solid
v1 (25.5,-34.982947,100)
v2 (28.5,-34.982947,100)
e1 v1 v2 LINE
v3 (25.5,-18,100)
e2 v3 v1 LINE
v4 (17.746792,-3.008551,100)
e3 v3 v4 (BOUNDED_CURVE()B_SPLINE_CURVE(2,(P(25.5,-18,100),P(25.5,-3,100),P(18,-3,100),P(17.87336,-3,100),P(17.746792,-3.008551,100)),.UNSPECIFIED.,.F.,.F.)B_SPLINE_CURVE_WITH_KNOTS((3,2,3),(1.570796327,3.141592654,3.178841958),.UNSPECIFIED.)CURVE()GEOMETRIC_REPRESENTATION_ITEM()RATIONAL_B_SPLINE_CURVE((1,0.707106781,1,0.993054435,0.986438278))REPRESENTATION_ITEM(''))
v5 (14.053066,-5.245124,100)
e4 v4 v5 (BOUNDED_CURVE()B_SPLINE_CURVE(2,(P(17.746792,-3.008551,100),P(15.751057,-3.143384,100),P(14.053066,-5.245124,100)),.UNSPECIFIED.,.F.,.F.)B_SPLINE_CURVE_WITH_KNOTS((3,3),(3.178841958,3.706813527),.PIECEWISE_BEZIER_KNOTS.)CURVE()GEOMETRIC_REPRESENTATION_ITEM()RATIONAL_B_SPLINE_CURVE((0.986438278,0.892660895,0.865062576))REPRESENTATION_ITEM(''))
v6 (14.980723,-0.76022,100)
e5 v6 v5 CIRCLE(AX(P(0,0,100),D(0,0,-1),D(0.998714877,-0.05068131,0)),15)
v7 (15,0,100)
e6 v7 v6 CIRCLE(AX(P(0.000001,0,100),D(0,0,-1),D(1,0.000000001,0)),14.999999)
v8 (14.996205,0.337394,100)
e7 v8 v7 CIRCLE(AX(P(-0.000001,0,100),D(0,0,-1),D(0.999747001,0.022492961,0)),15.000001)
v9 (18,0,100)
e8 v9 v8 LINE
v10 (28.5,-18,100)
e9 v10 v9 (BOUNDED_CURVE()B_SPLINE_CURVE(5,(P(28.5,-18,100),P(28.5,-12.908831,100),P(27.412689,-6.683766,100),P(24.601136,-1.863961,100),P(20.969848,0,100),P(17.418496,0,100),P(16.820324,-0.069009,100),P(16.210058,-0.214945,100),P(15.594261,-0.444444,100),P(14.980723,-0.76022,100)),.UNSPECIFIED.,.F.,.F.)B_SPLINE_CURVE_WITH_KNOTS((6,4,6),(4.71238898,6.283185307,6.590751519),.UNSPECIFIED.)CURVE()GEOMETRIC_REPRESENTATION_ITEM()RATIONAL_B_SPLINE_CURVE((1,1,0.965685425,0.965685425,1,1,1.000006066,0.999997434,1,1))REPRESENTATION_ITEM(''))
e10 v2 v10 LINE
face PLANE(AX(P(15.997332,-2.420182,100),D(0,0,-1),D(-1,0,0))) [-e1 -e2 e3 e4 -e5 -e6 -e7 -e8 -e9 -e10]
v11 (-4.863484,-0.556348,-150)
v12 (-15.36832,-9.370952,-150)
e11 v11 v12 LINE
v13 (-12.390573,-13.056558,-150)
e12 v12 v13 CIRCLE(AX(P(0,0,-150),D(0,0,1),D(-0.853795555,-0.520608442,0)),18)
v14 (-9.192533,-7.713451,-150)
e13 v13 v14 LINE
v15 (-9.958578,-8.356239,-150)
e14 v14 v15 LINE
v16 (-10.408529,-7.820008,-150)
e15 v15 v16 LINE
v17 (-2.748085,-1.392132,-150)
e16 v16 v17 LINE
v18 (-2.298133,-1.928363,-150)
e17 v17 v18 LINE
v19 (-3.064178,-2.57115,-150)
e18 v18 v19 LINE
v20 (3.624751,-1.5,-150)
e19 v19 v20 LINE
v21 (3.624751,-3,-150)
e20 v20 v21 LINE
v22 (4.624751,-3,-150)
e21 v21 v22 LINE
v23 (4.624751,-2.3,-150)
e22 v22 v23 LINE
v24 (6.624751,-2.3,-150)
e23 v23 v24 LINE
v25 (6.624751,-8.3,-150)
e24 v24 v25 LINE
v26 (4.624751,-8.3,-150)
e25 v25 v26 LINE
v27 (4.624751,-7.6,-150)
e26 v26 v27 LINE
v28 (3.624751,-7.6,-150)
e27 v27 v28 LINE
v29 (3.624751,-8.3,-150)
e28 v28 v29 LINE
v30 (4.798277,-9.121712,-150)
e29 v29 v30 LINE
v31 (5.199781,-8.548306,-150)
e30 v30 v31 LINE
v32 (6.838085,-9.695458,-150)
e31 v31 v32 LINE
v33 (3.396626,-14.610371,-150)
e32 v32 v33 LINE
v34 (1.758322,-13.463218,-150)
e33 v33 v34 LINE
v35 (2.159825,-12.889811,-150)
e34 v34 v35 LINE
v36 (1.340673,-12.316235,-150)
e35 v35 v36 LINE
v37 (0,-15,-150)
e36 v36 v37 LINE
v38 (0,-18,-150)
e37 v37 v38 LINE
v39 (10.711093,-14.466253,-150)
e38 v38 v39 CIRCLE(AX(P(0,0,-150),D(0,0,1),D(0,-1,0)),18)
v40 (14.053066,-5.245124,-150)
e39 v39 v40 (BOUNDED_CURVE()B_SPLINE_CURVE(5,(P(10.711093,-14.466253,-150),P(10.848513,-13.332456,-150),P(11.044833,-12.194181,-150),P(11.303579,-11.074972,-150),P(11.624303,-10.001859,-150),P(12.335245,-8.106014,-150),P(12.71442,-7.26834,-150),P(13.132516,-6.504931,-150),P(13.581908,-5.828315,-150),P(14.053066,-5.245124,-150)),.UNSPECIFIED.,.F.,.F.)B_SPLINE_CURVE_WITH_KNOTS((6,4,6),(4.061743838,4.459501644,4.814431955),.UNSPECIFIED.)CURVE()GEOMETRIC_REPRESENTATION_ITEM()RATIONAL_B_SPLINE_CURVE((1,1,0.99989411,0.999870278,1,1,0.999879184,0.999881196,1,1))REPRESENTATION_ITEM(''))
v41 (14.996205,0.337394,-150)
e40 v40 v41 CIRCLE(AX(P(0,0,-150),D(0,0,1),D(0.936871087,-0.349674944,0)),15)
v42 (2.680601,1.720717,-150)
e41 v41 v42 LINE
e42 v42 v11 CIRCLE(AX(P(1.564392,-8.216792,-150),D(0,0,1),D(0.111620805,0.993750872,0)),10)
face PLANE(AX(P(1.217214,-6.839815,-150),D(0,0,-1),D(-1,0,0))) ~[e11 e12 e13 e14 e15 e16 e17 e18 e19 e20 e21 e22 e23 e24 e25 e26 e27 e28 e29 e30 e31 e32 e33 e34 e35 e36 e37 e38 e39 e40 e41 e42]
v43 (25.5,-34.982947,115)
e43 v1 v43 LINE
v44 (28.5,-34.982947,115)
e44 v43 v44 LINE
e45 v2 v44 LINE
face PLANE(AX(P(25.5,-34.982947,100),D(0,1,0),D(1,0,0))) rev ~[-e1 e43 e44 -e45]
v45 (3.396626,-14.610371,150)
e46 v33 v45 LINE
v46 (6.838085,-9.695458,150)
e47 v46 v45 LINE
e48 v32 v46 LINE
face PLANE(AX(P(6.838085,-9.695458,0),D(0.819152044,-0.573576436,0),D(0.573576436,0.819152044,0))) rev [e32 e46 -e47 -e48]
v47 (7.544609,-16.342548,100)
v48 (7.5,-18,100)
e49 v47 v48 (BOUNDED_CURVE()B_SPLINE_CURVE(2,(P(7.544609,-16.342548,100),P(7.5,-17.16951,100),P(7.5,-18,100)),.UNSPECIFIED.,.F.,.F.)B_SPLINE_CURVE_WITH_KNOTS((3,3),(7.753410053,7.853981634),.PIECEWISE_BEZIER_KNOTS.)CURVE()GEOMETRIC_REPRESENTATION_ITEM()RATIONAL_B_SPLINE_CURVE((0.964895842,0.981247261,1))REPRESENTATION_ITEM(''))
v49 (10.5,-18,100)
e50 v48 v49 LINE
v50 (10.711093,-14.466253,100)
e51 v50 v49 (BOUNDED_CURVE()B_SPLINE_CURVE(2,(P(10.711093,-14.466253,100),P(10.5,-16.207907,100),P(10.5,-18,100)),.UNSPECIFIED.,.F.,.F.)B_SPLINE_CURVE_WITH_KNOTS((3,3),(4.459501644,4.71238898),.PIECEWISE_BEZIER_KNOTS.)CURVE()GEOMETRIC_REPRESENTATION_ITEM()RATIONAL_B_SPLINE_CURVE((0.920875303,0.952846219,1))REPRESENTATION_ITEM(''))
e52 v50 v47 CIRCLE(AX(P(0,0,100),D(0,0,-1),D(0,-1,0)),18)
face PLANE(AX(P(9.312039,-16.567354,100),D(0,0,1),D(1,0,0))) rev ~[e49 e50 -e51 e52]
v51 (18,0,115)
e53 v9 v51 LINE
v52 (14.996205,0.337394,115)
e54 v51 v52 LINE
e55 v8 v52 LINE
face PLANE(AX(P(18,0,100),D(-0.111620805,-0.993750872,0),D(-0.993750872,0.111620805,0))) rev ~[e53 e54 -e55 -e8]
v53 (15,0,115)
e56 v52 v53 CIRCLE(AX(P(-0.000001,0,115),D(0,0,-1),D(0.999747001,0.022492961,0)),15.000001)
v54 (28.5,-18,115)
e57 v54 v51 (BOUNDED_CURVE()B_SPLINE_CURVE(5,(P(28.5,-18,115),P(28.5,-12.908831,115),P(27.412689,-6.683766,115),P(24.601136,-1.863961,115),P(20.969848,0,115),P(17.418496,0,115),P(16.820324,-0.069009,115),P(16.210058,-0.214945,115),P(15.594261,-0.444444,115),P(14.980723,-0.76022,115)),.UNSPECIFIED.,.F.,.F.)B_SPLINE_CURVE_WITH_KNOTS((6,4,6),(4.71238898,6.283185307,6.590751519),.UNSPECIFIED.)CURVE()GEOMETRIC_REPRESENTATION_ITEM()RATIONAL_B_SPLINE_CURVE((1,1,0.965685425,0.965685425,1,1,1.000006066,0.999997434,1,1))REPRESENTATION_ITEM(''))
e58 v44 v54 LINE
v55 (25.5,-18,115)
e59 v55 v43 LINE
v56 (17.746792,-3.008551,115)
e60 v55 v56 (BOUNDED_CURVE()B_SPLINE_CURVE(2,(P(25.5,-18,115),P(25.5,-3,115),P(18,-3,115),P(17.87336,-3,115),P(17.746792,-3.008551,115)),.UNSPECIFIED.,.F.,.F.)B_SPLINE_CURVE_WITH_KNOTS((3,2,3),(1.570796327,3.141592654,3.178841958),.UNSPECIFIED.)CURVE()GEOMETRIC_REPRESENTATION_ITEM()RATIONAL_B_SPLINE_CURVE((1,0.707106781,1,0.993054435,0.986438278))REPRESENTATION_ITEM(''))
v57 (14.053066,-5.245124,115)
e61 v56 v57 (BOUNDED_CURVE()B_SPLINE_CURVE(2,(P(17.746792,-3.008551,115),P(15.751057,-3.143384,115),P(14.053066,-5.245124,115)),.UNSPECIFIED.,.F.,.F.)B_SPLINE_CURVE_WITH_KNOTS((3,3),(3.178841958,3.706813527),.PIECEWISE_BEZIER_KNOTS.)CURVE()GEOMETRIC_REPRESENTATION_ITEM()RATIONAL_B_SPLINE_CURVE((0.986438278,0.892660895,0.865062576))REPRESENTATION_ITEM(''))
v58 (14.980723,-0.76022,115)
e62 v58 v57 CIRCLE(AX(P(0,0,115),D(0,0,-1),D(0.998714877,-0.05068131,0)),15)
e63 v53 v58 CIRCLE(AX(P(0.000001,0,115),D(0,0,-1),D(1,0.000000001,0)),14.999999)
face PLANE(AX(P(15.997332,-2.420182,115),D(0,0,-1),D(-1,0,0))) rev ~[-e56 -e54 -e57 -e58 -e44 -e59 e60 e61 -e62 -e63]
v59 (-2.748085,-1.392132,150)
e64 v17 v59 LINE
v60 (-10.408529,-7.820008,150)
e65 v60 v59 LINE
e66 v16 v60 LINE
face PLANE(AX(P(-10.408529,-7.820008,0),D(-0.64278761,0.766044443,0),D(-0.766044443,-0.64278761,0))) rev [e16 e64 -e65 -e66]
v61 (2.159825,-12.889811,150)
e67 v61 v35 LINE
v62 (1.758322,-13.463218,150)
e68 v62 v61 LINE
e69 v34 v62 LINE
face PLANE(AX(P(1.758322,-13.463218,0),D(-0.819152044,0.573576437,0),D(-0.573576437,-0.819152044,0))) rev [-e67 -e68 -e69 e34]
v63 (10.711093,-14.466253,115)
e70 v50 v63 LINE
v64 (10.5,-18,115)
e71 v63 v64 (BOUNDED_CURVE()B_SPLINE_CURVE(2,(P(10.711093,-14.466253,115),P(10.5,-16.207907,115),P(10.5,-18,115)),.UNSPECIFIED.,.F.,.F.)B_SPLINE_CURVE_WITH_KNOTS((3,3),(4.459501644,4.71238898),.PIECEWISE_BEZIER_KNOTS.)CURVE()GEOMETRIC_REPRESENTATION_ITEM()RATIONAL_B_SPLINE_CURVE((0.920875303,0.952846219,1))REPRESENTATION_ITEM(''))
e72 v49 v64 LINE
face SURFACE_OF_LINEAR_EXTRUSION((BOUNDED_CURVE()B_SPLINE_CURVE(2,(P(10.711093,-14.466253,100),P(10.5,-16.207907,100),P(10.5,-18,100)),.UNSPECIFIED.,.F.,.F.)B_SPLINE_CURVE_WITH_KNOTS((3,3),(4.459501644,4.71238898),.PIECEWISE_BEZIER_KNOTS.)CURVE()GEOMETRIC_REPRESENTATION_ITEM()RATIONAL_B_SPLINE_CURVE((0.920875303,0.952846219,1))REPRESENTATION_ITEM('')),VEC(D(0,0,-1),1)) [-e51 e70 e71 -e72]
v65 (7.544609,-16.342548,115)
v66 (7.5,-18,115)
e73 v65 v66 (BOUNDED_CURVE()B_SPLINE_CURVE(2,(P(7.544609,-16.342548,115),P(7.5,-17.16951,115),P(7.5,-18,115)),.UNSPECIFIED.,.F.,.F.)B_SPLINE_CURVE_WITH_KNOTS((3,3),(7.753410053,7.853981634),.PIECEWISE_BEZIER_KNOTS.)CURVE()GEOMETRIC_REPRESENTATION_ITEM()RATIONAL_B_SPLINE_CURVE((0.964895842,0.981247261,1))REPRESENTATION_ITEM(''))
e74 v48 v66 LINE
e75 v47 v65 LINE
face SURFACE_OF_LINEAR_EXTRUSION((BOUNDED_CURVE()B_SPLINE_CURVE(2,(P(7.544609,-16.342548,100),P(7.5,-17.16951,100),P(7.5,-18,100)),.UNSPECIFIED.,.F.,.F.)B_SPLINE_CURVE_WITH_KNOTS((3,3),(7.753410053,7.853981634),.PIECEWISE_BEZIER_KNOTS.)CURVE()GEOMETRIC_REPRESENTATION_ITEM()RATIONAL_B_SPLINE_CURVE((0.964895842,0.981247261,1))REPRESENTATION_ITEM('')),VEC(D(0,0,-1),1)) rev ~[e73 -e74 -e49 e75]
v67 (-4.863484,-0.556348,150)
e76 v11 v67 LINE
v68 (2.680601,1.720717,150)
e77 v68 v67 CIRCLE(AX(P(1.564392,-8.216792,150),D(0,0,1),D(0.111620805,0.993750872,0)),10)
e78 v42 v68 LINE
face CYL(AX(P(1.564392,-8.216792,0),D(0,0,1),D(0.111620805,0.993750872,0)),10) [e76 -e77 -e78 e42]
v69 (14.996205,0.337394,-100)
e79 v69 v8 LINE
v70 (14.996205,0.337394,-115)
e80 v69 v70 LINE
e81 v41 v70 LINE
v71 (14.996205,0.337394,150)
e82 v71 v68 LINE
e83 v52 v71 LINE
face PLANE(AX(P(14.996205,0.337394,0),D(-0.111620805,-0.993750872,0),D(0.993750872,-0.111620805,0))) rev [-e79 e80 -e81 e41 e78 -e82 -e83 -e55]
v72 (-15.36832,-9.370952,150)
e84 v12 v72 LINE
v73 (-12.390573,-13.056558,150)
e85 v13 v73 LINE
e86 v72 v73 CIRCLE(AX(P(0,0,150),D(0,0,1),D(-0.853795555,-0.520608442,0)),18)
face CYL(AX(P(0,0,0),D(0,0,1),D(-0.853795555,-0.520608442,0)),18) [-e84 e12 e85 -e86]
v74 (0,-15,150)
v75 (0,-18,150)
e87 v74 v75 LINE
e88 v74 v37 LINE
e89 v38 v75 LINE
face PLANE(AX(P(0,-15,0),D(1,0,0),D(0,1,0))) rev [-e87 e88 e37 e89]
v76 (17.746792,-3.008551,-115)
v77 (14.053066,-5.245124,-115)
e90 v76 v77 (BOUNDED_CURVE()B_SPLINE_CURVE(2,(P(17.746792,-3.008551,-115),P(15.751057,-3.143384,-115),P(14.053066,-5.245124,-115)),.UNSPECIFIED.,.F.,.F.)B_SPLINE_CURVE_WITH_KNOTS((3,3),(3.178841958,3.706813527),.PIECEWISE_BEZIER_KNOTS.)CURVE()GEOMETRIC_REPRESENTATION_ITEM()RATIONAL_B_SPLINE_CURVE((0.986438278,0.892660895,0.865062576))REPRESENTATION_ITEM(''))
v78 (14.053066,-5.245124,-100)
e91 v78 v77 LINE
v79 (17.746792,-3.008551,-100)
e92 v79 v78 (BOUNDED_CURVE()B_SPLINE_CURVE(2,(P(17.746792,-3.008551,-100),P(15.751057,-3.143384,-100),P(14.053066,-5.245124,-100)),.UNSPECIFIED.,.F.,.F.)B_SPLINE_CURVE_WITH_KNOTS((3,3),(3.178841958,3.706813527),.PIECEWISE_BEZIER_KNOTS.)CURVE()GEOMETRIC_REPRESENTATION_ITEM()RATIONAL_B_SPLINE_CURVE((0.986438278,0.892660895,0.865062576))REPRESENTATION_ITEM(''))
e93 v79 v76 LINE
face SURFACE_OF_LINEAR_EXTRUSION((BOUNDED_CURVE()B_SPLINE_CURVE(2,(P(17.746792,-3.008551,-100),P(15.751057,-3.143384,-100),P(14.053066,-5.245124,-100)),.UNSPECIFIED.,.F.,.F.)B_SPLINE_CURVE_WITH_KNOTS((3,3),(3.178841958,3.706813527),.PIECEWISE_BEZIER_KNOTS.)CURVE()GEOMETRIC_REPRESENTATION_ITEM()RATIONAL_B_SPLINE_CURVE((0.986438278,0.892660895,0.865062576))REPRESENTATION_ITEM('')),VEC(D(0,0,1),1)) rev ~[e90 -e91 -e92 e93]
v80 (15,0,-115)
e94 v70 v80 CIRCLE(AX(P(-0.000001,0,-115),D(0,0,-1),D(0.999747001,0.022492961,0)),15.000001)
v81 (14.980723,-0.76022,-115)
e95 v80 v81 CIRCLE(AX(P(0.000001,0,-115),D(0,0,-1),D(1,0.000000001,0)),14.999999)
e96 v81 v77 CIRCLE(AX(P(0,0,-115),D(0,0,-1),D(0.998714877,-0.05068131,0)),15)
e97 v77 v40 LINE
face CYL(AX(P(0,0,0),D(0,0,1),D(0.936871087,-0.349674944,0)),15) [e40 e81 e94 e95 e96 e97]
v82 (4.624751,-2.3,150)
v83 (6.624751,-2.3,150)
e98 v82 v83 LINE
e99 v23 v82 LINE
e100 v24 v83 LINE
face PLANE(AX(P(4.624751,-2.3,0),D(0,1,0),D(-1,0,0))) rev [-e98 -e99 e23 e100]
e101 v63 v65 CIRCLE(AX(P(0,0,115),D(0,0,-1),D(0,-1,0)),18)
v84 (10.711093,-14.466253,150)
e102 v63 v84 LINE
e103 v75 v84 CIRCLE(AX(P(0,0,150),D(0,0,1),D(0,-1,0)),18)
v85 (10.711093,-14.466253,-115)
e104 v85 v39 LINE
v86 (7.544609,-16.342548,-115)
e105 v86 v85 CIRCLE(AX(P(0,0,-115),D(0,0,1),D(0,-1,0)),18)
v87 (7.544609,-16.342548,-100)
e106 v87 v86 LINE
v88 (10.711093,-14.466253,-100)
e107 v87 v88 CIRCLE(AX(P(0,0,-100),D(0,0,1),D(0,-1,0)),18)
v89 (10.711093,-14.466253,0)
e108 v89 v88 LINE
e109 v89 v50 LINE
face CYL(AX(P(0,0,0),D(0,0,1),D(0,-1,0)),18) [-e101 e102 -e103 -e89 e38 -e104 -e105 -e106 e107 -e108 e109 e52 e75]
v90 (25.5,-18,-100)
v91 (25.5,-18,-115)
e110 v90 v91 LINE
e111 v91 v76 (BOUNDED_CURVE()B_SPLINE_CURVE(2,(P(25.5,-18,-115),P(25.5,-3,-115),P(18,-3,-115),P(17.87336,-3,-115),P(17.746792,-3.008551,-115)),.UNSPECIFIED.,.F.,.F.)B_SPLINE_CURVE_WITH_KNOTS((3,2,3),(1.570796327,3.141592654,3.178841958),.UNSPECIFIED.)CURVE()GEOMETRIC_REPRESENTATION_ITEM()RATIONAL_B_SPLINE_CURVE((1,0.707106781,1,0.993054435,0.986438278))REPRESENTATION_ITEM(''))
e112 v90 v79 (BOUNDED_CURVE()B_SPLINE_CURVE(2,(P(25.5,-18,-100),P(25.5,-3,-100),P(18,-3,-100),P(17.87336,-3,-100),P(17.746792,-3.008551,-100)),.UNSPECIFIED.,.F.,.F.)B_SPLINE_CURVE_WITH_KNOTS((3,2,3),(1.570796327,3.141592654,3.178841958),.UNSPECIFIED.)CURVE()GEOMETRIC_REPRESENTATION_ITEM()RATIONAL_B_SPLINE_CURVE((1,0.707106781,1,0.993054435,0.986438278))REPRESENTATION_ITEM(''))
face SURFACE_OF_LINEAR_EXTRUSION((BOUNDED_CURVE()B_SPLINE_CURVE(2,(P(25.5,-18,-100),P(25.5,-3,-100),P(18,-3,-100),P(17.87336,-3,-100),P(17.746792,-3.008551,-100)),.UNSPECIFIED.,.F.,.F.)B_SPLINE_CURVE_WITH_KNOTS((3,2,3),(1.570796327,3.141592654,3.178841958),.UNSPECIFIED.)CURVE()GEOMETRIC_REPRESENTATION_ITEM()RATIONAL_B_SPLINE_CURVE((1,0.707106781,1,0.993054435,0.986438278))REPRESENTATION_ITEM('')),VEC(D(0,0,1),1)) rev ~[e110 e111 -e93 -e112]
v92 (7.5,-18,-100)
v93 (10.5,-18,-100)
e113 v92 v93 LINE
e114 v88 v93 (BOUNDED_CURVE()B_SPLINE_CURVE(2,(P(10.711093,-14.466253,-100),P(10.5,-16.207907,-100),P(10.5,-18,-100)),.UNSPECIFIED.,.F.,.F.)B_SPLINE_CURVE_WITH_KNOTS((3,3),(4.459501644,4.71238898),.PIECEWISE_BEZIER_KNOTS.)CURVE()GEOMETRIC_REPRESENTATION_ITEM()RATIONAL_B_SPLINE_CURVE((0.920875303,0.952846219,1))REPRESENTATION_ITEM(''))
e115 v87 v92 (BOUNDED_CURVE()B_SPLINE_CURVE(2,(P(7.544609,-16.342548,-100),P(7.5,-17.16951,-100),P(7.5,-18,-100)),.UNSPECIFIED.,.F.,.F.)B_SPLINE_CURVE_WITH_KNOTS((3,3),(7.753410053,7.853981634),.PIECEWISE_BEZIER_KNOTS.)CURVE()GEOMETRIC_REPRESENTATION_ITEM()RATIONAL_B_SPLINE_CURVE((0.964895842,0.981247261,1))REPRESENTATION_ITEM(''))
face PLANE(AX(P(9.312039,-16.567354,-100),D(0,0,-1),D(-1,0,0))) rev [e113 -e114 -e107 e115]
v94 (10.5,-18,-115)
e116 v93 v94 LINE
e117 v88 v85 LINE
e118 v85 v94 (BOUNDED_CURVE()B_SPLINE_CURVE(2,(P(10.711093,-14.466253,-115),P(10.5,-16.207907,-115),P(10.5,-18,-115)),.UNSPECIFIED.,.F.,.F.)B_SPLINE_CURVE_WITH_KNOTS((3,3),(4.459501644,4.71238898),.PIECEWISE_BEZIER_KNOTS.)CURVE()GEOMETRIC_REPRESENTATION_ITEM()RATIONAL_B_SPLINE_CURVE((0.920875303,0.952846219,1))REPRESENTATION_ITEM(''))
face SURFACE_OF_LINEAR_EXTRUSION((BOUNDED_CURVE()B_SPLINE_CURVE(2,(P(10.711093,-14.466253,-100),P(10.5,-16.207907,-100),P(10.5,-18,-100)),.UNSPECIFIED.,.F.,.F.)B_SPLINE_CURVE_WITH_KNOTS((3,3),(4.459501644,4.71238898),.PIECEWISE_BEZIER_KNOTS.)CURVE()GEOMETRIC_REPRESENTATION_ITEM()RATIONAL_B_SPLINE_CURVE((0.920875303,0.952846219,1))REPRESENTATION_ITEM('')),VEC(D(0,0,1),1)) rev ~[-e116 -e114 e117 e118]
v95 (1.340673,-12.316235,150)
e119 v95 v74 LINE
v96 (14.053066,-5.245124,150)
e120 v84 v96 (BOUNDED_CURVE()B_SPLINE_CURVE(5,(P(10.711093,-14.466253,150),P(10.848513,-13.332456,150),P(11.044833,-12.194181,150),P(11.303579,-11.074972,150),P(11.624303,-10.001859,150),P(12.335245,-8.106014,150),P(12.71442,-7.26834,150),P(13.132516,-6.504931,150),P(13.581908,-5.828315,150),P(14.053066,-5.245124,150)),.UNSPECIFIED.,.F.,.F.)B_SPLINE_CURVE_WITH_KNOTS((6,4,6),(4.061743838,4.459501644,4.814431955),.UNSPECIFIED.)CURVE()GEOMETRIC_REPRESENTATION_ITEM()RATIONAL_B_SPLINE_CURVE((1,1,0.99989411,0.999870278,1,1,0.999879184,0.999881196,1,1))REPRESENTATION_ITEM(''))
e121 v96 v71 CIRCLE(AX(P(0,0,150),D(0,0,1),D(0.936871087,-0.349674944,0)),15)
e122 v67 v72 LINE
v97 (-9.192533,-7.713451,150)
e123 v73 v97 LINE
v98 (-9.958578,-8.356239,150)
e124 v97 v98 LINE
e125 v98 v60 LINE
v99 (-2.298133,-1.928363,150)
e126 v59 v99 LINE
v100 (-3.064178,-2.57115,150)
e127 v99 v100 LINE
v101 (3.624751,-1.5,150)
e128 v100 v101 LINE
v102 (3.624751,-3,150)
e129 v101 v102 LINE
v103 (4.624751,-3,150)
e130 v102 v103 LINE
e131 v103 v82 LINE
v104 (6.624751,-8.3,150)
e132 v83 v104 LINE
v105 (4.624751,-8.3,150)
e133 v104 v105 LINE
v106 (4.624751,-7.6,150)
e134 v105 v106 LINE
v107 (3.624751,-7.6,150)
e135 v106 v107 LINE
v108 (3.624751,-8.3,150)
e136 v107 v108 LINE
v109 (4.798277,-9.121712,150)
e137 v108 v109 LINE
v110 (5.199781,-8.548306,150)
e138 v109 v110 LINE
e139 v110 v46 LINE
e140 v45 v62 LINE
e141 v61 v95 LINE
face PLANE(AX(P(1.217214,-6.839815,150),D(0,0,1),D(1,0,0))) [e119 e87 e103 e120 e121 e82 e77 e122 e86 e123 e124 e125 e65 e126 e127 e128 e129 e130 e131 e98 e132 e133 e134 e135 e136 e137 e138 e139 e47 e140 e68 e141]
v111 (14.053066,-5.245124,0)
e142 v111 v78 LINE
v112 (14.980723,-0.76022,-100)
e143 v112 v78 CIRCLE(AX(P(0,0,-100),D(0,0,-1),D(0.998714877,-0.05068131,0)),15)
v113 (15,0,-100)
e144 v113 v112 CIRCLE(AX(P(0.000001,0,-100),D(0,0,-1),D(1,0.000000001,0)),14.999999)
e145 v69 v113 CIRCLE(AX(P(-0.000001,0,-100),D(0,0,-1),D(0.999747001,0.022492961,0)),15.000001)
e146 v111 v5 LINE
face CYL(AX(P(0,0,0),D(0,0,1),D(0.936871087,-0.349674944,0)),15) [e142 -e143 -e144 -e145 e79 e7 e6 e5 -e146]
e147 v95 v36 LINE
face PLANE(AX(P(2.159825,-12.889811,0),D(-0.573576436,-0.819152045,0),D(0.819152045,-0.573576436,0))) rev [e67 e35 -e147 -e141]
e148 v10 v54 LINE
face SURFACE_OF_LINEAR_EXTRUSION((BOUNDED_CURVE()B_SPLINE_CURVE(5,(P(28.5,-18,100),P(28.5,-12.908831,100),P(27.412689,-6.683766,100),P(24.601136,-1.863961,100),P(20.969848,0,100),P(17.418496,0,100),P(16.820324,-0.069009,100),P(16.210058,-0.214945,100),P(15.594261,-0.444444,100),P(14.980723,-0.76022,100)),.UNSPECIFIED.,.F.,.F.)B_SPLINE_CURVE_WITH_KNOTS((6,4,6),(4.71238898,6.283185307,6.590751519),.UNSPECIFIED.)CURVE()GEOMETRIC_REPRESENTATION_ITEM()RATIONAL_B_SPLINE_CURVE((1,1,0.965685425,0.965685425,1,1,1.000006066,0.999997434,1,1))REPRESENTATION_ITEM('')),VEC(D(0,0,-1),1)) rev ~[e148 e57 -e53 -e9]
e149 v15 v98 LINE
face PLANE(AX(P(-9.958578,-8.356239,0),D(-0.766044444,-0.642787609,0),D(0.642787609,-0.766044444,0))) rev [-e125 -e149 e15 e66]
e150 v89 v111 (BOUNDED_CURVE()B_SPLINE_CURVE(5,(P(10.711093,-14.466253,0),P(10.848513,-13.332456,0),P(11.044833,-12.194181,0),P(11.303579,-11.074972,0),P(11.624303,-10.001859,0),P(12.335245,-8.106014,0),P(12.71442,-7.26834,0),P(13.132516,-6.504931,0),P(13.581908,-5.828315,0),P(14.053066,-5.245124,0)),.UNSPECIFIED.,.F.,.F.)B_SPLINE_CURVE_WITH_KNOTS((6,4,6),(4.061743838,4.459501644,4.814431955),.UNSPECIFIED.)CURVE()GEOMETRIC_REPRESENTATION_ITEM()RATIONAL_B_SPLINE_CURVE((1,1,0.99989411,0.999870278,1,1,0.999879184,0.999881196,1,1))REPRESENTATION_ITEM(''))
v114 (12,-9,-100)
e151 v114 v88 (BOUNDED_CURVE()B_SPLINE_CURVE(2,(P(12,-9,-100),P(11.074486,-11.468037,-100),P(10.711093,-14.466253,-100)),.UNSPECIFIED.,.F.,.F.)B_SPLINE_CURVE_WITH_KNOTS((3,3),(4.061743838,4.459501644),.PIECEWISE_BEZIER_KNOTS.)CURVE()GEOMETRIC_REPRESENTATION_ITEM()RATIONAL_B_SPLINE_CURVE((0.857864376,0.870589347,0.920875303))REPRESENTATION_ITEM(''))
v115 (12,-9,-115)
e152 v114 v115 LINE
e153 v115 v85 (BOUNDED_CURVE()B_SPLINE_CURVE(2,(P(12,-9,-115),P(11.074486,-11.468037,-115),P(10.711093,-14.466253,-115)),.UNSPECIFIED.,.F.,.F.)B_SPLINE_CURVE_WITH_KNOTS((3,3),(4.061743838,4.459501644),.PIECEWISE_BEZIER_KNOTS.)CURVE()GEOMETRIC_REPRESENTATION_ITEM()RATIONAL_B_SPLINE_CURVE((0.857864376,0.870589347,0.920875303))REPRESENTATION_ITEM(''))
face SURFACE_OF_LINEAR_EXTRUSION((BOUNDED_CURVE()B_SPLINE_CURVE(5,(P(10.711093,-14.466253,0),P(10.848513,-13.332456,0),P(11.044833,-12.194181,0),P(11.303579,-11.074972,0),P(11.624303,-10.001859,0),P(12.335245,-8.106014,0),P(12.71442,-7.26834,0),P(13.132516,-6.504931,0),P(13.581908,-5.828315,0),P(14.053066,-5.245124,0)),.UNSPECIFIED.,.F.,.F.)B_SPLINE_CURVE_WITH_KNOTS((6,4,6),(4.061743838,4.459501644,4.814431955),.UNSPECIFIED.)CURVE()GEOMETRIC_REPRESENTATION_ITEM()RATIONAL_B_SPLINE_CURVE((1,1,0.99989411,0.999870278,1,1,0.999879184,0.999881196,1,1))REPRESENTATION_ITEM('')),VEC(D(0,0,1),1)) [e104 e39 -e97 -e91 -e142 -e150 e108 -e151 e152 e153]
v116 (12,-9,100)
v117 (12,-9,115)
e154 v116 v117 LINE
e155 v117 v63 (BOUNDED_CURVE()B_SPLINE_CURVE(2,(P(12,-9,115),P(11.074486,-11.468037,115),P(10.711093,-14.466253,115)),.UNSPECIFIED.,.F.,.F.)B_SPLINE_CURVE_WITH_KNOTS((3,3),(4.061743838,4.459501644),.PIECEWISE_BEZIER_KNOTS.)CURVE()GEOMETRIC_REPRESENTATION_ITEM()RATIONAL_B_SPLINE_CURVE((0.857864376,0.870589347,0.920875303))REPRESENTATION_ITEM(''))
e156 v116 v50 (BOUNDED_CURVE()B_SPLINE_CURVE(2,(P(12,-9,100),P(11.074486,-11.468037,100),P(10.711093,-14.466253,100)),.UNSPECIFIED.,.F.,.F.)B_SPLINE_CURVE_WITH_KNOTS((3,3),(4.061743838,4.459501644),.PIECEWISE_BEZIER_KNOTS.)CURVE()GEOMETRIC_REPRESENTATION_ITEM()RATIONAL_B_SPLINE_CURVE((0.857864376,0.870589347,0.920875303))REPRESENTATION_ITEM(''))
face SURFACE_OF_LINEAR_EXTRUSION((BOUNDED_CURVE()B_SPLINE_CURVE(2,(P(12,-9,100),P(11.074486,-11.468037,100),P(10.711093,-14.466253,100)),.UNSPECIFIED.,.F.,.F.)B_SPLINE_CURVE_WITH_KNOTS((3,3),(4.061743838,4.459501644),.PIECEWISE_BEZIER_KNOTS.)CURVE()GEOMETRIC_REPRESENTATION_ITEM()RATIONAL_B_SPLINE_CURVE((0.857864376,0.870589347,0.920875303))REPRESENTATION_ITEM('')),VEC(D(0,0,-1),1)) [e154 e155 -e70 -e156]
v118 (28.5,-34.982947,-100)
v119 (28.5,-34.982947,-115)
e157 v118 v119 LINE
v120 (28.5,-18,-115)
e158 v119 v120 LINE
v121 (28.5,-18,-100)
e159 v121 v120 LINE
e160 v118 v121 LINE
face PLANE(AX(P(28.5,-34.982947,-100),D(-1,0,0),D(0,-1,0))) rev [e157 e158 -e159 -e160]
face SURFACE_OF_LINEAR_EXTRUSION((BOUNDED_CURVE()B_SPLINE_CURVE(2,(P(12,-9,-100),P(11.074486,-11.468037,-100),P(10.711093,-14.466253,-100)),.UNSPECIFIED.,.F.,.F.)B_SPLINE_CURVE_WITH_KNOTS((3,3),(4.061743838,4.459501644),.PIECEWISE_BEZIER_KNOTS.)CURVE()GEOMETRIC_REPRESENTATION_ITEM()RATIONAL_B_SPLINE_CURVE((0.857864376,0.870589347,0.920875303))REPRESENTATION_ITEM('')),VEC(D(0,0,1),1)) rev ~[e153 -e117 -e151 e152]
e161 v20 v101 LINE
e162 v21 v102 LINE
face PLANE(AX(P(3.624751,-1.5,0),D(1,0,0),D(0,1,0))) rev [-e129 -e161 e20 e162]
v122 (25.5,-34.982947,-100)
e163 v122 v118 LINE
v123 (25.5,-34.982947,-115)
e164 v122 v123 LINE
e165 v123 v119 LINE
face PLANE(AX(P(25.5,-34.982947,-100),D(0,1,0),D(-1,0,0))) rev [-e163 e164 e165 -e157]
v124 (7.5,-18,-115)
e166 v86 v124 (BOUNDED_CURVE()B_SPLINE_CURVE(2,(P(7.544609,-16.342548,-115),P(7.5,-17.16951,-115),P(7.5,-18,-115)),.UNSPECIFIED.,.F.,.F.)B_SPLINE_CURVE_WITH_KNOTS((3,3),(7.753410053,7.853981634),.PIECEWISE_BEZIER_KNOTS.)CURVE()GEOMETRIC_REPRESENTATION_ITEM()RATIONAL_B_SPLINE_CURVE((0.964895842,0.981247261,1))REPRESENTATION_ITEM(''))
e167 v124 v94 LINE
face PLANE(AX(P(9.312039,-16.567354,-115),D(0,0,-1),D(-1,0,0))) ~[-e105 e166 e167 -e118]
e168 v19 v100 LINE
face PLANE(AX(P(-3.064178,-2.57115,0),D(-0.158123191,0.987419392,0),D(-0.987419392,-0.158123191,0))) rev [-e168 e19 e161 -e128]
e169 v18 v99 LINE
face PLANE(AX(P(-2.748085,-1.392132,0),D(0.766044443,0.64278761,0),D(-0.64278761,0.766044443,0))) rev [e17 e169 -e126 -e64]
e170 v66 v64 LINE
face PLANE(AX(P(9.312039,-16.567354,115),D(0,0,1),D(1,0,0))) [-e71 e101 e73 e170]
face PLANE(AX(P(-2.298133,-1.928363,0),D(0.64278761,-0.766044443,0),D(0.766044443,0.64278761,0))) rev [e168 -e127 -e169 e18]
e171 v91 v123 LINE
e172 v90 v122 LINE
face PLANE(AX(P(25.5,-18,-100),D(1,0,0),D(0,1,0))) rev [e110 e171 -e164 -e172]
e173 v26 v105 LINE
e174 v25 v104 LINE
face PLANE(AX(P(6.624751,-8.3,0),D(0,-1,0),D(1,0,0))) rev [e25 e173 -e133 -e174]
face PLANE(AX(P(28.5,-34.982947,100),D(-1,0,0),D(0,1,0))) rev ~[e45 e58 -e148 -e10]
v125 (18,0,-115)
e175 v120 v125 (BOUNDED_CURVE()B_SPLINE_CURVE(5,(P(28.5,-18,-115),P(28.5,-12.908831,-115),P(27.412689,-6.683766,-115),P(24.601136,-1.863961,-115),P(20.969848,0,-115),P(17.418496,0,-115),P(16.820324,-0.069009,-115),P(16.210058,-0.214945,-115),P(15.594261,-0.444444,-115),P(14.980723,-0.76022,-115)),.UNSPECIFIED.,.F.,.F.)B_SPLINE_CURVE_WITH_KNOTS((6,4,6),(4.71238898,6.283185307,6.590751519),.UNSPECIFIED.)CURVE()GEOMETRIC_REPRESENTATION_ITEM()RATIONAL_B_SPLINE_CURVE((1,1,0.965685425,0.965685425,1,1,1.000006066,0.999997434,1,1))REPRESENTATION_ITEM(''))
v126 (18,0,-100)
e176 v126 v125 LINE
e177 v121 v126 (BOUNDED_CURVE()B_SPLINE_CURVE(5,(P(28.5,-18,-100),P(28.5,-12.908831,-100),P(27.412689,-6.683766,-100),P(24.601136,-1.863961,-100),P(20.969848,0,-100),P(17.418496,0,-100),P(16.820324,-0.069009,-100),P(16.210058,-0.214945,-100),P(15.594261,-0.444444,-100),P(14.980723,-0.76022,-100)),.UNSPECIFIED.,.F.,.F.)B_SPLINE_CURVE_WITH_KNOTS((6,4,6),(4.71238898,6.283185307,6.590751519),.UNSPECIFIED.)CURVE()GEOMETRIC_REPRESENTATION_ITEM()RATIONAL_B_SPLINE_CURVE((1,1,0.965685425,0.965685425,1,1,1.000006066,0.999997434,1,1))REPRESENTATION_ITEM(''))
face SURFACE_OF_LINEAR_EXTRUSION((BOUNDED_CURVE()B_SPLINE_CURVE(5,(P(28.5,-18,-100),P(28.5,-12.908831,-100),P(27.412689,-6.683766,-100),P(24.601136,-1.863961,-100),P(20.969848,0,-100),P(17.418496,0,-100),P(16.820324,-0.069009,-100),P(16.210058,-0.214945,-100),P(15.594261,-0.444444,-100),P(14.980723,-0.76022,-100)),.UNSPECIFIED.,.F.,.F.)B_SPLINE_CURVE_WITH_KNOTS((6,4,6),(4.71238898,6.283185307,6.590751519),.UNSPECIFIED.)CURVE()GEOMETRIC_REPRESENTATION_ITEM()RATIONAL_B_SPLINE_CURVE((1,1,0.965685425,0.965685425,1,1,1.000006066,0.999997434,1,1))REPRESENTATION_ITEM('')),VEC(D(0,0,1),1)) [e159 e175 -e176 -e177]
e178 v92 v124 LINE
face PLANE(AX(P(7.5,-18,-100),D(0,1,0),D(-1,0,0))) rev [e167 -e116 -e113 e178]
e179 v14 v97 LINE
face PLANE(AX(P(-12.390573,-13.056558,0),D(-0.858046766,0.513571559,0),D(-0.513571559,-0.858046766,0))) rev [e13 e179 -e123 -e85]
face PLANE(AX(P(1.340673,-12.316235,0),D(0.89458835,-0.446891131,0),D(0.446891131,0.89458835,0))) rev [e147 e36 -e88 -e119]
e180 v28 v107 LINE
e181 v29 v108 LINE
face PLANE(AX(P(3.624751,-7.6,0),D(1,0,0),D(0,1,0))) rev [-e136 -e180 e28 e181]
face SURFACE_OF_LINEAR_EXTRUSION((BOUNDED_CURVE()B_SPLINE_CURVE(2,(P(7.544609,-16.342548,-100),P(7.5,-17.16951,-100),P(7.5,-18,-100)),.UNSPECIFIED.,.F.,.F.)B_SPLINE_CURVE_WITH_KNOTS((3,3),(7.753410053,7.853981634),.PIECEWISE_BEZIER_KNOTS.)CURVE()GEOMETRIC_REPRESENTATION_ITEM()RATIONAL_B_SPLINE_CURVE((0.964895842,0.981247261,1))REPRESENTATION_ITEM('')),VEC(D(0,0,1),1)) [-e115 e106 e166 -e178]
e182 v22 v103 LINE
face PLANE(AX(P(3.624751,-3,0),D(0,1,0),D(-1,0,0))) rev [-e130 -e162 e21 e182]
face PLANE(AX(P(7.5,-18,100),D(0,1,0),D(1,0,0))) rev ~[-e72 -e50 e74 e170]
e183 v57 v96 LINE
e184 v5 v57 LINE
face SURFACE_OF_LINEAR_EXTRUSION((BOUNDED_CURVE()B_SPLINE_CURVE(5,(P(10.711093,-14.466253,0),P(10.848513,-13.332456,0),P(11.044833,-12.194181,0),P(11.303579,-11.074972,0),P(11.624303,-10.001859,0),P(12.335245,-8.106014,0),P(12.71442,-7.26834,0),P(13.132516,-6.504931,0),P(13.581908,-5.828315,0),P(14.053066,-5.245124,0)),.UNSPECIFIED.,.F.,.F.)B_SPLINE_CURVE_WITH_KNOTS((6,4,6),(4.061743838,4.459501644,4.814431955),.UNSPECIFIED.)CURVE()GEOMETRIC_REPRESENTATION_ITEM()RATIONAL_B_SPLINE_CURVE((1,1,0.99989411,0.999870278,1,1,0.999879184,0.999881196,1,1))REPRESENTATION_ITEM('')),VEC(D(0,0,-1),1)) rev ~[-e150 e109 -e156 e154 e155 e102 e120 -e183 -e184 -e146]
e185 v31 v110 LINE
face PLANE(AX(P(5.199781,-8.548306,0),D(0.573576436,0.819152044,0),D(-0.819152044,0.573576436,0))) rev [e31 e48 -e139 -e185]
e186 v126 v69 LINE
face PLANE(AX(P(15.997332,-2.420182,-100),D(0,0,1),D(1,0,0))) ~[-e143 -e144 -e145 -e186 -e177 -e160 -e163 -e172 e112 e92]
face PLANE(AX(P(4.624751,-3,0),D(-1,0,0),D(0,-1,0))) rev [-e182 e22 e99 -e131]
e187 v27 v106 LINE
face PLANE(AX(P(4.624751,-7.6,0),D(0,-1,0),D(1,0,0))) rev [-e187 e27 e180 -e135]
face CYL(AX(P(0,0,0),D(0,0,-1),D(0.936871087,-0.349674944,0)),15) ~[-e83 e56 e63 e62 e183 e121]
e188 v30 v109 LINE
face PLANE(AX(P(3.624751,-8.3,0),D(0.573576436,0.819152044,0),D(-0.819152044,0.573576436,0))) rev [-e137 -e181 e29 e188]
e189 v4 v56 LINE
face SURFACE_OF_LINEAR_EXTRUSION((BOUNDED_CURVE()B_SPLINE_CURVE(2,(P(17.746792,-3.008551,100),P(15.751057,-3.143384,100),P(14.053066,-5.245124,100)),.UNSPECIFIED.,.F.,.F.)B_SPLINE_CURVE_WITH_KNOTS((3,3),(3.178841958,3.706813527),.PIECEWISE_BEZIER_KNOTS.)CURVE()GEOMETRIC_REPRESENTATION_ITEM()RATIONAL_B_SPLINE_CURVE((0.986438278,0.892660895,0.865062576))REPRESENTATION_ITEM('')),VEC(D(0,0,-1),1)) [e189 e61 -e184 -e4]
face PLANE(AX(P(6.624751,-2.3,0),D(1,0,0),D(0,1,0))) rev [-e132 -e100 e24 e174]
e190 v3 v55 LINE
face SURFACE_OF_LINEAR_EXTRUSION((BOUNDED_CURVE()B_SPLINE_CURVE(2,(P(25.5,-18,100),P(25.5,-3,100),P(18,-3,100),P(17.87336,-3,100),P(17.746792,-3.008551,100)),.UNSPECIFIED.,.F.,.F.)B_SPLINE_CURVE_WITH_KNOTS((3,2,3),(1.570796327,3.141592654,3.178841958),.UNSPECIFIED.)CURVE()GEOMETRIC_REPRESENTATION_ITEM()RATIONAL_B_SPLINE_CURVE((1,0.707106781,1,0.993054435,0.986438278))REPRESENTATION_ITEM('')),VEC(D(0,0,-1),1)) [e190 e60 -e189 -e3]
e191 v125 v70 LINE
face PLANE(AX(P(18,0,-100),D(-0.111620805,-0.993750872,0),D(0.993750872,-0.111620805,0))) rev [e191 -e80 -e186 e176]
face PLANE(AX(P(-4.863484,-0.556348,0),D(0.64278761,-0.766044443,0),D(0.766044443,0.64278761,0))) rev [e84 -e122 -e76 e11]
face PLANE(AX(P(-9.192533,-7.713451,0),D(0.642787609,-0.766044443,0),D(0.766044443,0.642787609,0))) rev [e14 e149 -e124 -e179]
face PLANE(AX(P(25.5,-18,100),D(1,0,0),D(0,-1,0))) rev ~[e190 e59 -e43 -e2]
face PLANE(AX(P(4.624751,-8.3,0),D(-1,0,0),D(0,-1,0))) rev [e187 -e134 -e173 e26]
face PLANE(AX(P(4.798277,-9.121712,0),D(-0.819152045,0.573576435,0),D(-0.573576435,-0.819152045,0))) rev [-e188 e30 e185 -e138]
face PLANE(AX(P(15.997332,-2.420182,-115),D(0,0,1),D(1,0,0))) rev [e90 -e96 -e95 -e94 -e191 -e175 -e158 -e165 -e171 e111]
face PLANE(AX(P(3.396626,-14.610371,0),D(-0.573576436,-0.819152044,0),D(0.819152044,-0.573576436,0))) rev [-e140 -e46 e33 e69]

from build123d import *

# Parameters (mm, degrees)
EXTRUDE_7_DEPTH = 150
EXTRUDE_START   = 100
EXTRUDE_8_DEPTH = 15


with BuildPart() as part:
    # 草图1 → 凸台-拉伸7 (new body)
    with BuildSketch(Plane.XY):
        with BuildLine():
            Line((0, -15), (0, -18))
            ThreePointArc((0, -18), (5.639478957, -17.09374965), (10.711093494, -14.46625301))
            add(Edge.make_bspline(
                [(10.711093494, -14.46625301), (10.848513024, -13.332455818), (11.044833458, -12.194181271), (11.303579228, -11.074971651), (11.624303017, -10.001858622), (12.335244828, -8.106013793), (12.714420239, -7.26834028), (13.132516135, -6.504930588), (13.58190792, -5.828314757), (14.053066301, -5.245124167)],
                knots=[4.061743838, 4.061743838, 4.061743838, 4.061743838, 4.061743838, 4.061743838, 4.459501644, 4.459501644, 4.459501644, 4.459501644, 4.814431955, 4.814431955, 4.814431955, 4.814431955, 4.814431955, 4.814431955], degree=5, weights=[1, 1, 0.99989411, 0.999870278, 1, 1, 0.999879184, 0.999881196, 1, 1]))
            ThreePointArc((14.053066301, -5.245124167), (14.790408025, -2.498765784), (14.99620502, 0.337394434))
            Line((14.99620502, 0.337394434), (2.680600539, 1.720716673))
            ThreePointArc((2.680600539, 1.720716673), (-1.325193951, 1.356623757), (-4.863483604, -0.556347618))
            Line((-4.863483604, -0.556347618), (-15.368319993, -9.370951957))
            ThreePointArc((-15.368319993, -9.370951957), (-14.001248399, -11.31216351), (-12.390572928, -13.056557835))
            Line((-12.390572928, -13.056557835), (-9.192533317, -7.713451316))
            Line((-9.192533317, -7.713451316), (-9.958577761, -8.356238926))
            Line((-9.958577761, -8.356238926), (-10.408529087, -7.820007816))
            Line((-10.408529087, -7.820007816), (-2.748084656, -1.392131719))
            Line((-2.748084656, -1.392131719), (-2.298133329, -1.928362829))
            Line((-2.298133329, -1.928362829), (-3.064177772, -2.571150439))
            Line((-3.064177772, -2.571150439), (3.624750717, -1.5))
            Line((3.624750717, -1.5), (3.624750717, -3))
            Line((3.624750717, -3), (4.624750717, -3))
            Line((4.624750717, -3), (4.624750717, -2.3))
            Line((4.624750717, -2.3), (6.624750717, -2.3))
            Line((6.624750717, -2.3), (6.624750717, -8.3))
            Line((6.624750717, -8.3), (4.624750717, -8.3))
            Line((4.624750717, -8.3), (4.624750717, -7.6))
            Line((4.624750717, -7.6), (3.624750717, -7.6))
            Line((3.624750717, -7.6), (3.624750717, -8.3))
            Line((3.624750717, -8.3), (4.798277046, -9.121711982))
            Line((4.798277046, -9.121711982), (5.199780551, -8.54830555))
            Line((5.199780551, -8.54830555), (6.83808464, -9.695458423))
            Line((6.83808464, -9.695458423), (3.396626022, -14.610370689))
            Line((3.396626022, -14.610370689), (1.758321933, -13.463217816))
            Line((1.758321933, -13.463217816), (2.159825439, -12.889811385))
            Line((2.159825439, -12.889811385), (1.340673394, -12.316234949))
            Line((1.340673394, -12.316234949), (0, -15))
        make_face()
    extrude_7 = extrude(amount=EXTRUDE_7_DEPTH)

    # 草图5 → 凸台-拉伸8 (add)
    with BuildSketch(Plane.XY.offset(EXTRUDE_START)):
        with BuildLine():
            add(Edge.make_bspline(
                [(7.54460871, -16.342548131), (7.5, -17.169509918), (7.5, -18)],
                knots=[7.753410053, 7.753410053, 7.753410053, 7.853981634, 7.853981634, 7.853981634], degree=2, weights=[0.964895842, 0.981247261, 1]))
            Line((7.5, -18), (10.5, -18))
            add(Edge.make_bspline(
                [(10.711093494, -14.46625301), (10.5, -16.207906554), (10.5, -18)],
                knots=[4.459501644, 4.459501644, 4.459501644, 4.71238898, 4.71238898, 4.71238898], degree=2, weights=[0.920875303, 0.952846219, 1]))
            ThreePointArc((10.711093494, -14.46625301), (9.175935189, -15.485548535), (7.54460871, -16.342548131))
        make_face()
        with BuildLine():
            add(Edge.make_bspline(
                [(7.963401142, -12.711579062), (7.64454263, -14.489960749), (7.54460871, -16.342548131)],
                knots=[7.539833715, 7.539833715, 7.539833715, 7.753410053, 7.753410053, 7.753410053], degree=2, weights=[0.906276709, 0.930171557, 0.964895842]))
            ThreePointArc((7.54460871, -16.342548131), (9.175935189, -15.485548535), (10.711093494, -14.46625301))
            add(Edge.make_bspline(
                [(12, -9), (11.074485981, -11.468037385), (10.711093494, -14.46625301)],
                knots=[4.061743838, 4.061743838, 4.061743838, 4.459501644, 4.459501644, 4.459501644], degree=2, weights=[0.857864376, 0.870589347, 0.920875303]))
            ThreePointArc((12, -9), (10.152748449, -11.041815925), (7.963401142, -12.711579062))
        make_face()
        with BuildLine():
            add(Edge.make_bspline(
                [(17.746791844, -3.00855102), (15.751057332, -3.143384219), (14.053066301, -5.245124167)],
                knots=[3.178841958, 3.178841958, 3.178841958, 3.706813527, 3.706813527, 3.706813527], degree=2, weights=[0.986438278, 0.892660895, 0.865062576]))
            ThreePointArc((17.746791844, -3.00855102), (17.936586258, -1.509593787), (18, 0))
            add(Edge.make_bspline(
                [(18, 0), (16.457794493, 0), (14.980723149, -0.760219655)],
                knots=[6.283185307, 6.283185307, 6.283185307, 6.590751519, 6.590751519, 6.590751519], degree=2, weights=[1, 0.942650708, 0.907759712]))
            ThreePointArc((14.980723149, -0.760219655), (14.689071604, -3.038284946), (14.053066301, -5.245124167))
        make_face()
        with BuildLine():
            ThreePointArc((18, 0), (17.936586258, -1.509593787), (17.746791844, -3.00855102))
            add(Edge.make_bspline(
                [(25.5, -18), (25.5, -3), (18, -3), (17.873359825, -3), (17.746791844, -3.00855102)],
                knots=[1.570796327, 1.570796327, 1.570796327, 3.141592654, 3.141592654, 3.178841958, 3.178841958, 3.178841958], degree=2, weights=[1, 0.707106781, 1, 0.993054435, 0.986438278]))
            Line((25.5, -18), (25.5, -34.982946992))
            Line((25.5, -34.982946992), (28.5, -34.982946992))
            Line((28.5, -34.982946992), (28.5, -18))
            add(Edge.make_bspline(
                [(28.5, -18), (28.5, 0), (18, 0)],
                knots=[4.71238898, 4.71238898, 4.71238898, 6.283185307, 6.283185307, 6.283185307], degree=2, weights=[1, 0.707106781, 1]))
        make_face()
        with BuildLine():
            ThreePointArc((15, 0), (14.995180013, -0.380232008), (14.980723149, -0.760219655))
            add(Edge.make_bspline(
                [(18, 0), (16.457794493, 0), (14.980723149, -0.760219655)],
                knots=[6.283185307, 6.283185307, 6.283185307, 6.590751519, 6.590751519, 6.590751519], degree=2, weights=[1, 0.942650708, 0.907759712]))
            Line((18, 0), (14.99620502, 0.337394434))
            ThreePointArc((14.99620502, 0.337394434), (14.999051225, 0.168707888), (15, 0))
        make_face()
    extrude_8 = extrude(amount=EXTRUDE_8_DEPTH)

    # 镜向1: 凸台-拉伸7, 凸台-拉伸8 across plane
    add(extrude_7.mirror(Plane.XY))
    add(extrude_8.mirror(Plane.XY))


solid = part.part
